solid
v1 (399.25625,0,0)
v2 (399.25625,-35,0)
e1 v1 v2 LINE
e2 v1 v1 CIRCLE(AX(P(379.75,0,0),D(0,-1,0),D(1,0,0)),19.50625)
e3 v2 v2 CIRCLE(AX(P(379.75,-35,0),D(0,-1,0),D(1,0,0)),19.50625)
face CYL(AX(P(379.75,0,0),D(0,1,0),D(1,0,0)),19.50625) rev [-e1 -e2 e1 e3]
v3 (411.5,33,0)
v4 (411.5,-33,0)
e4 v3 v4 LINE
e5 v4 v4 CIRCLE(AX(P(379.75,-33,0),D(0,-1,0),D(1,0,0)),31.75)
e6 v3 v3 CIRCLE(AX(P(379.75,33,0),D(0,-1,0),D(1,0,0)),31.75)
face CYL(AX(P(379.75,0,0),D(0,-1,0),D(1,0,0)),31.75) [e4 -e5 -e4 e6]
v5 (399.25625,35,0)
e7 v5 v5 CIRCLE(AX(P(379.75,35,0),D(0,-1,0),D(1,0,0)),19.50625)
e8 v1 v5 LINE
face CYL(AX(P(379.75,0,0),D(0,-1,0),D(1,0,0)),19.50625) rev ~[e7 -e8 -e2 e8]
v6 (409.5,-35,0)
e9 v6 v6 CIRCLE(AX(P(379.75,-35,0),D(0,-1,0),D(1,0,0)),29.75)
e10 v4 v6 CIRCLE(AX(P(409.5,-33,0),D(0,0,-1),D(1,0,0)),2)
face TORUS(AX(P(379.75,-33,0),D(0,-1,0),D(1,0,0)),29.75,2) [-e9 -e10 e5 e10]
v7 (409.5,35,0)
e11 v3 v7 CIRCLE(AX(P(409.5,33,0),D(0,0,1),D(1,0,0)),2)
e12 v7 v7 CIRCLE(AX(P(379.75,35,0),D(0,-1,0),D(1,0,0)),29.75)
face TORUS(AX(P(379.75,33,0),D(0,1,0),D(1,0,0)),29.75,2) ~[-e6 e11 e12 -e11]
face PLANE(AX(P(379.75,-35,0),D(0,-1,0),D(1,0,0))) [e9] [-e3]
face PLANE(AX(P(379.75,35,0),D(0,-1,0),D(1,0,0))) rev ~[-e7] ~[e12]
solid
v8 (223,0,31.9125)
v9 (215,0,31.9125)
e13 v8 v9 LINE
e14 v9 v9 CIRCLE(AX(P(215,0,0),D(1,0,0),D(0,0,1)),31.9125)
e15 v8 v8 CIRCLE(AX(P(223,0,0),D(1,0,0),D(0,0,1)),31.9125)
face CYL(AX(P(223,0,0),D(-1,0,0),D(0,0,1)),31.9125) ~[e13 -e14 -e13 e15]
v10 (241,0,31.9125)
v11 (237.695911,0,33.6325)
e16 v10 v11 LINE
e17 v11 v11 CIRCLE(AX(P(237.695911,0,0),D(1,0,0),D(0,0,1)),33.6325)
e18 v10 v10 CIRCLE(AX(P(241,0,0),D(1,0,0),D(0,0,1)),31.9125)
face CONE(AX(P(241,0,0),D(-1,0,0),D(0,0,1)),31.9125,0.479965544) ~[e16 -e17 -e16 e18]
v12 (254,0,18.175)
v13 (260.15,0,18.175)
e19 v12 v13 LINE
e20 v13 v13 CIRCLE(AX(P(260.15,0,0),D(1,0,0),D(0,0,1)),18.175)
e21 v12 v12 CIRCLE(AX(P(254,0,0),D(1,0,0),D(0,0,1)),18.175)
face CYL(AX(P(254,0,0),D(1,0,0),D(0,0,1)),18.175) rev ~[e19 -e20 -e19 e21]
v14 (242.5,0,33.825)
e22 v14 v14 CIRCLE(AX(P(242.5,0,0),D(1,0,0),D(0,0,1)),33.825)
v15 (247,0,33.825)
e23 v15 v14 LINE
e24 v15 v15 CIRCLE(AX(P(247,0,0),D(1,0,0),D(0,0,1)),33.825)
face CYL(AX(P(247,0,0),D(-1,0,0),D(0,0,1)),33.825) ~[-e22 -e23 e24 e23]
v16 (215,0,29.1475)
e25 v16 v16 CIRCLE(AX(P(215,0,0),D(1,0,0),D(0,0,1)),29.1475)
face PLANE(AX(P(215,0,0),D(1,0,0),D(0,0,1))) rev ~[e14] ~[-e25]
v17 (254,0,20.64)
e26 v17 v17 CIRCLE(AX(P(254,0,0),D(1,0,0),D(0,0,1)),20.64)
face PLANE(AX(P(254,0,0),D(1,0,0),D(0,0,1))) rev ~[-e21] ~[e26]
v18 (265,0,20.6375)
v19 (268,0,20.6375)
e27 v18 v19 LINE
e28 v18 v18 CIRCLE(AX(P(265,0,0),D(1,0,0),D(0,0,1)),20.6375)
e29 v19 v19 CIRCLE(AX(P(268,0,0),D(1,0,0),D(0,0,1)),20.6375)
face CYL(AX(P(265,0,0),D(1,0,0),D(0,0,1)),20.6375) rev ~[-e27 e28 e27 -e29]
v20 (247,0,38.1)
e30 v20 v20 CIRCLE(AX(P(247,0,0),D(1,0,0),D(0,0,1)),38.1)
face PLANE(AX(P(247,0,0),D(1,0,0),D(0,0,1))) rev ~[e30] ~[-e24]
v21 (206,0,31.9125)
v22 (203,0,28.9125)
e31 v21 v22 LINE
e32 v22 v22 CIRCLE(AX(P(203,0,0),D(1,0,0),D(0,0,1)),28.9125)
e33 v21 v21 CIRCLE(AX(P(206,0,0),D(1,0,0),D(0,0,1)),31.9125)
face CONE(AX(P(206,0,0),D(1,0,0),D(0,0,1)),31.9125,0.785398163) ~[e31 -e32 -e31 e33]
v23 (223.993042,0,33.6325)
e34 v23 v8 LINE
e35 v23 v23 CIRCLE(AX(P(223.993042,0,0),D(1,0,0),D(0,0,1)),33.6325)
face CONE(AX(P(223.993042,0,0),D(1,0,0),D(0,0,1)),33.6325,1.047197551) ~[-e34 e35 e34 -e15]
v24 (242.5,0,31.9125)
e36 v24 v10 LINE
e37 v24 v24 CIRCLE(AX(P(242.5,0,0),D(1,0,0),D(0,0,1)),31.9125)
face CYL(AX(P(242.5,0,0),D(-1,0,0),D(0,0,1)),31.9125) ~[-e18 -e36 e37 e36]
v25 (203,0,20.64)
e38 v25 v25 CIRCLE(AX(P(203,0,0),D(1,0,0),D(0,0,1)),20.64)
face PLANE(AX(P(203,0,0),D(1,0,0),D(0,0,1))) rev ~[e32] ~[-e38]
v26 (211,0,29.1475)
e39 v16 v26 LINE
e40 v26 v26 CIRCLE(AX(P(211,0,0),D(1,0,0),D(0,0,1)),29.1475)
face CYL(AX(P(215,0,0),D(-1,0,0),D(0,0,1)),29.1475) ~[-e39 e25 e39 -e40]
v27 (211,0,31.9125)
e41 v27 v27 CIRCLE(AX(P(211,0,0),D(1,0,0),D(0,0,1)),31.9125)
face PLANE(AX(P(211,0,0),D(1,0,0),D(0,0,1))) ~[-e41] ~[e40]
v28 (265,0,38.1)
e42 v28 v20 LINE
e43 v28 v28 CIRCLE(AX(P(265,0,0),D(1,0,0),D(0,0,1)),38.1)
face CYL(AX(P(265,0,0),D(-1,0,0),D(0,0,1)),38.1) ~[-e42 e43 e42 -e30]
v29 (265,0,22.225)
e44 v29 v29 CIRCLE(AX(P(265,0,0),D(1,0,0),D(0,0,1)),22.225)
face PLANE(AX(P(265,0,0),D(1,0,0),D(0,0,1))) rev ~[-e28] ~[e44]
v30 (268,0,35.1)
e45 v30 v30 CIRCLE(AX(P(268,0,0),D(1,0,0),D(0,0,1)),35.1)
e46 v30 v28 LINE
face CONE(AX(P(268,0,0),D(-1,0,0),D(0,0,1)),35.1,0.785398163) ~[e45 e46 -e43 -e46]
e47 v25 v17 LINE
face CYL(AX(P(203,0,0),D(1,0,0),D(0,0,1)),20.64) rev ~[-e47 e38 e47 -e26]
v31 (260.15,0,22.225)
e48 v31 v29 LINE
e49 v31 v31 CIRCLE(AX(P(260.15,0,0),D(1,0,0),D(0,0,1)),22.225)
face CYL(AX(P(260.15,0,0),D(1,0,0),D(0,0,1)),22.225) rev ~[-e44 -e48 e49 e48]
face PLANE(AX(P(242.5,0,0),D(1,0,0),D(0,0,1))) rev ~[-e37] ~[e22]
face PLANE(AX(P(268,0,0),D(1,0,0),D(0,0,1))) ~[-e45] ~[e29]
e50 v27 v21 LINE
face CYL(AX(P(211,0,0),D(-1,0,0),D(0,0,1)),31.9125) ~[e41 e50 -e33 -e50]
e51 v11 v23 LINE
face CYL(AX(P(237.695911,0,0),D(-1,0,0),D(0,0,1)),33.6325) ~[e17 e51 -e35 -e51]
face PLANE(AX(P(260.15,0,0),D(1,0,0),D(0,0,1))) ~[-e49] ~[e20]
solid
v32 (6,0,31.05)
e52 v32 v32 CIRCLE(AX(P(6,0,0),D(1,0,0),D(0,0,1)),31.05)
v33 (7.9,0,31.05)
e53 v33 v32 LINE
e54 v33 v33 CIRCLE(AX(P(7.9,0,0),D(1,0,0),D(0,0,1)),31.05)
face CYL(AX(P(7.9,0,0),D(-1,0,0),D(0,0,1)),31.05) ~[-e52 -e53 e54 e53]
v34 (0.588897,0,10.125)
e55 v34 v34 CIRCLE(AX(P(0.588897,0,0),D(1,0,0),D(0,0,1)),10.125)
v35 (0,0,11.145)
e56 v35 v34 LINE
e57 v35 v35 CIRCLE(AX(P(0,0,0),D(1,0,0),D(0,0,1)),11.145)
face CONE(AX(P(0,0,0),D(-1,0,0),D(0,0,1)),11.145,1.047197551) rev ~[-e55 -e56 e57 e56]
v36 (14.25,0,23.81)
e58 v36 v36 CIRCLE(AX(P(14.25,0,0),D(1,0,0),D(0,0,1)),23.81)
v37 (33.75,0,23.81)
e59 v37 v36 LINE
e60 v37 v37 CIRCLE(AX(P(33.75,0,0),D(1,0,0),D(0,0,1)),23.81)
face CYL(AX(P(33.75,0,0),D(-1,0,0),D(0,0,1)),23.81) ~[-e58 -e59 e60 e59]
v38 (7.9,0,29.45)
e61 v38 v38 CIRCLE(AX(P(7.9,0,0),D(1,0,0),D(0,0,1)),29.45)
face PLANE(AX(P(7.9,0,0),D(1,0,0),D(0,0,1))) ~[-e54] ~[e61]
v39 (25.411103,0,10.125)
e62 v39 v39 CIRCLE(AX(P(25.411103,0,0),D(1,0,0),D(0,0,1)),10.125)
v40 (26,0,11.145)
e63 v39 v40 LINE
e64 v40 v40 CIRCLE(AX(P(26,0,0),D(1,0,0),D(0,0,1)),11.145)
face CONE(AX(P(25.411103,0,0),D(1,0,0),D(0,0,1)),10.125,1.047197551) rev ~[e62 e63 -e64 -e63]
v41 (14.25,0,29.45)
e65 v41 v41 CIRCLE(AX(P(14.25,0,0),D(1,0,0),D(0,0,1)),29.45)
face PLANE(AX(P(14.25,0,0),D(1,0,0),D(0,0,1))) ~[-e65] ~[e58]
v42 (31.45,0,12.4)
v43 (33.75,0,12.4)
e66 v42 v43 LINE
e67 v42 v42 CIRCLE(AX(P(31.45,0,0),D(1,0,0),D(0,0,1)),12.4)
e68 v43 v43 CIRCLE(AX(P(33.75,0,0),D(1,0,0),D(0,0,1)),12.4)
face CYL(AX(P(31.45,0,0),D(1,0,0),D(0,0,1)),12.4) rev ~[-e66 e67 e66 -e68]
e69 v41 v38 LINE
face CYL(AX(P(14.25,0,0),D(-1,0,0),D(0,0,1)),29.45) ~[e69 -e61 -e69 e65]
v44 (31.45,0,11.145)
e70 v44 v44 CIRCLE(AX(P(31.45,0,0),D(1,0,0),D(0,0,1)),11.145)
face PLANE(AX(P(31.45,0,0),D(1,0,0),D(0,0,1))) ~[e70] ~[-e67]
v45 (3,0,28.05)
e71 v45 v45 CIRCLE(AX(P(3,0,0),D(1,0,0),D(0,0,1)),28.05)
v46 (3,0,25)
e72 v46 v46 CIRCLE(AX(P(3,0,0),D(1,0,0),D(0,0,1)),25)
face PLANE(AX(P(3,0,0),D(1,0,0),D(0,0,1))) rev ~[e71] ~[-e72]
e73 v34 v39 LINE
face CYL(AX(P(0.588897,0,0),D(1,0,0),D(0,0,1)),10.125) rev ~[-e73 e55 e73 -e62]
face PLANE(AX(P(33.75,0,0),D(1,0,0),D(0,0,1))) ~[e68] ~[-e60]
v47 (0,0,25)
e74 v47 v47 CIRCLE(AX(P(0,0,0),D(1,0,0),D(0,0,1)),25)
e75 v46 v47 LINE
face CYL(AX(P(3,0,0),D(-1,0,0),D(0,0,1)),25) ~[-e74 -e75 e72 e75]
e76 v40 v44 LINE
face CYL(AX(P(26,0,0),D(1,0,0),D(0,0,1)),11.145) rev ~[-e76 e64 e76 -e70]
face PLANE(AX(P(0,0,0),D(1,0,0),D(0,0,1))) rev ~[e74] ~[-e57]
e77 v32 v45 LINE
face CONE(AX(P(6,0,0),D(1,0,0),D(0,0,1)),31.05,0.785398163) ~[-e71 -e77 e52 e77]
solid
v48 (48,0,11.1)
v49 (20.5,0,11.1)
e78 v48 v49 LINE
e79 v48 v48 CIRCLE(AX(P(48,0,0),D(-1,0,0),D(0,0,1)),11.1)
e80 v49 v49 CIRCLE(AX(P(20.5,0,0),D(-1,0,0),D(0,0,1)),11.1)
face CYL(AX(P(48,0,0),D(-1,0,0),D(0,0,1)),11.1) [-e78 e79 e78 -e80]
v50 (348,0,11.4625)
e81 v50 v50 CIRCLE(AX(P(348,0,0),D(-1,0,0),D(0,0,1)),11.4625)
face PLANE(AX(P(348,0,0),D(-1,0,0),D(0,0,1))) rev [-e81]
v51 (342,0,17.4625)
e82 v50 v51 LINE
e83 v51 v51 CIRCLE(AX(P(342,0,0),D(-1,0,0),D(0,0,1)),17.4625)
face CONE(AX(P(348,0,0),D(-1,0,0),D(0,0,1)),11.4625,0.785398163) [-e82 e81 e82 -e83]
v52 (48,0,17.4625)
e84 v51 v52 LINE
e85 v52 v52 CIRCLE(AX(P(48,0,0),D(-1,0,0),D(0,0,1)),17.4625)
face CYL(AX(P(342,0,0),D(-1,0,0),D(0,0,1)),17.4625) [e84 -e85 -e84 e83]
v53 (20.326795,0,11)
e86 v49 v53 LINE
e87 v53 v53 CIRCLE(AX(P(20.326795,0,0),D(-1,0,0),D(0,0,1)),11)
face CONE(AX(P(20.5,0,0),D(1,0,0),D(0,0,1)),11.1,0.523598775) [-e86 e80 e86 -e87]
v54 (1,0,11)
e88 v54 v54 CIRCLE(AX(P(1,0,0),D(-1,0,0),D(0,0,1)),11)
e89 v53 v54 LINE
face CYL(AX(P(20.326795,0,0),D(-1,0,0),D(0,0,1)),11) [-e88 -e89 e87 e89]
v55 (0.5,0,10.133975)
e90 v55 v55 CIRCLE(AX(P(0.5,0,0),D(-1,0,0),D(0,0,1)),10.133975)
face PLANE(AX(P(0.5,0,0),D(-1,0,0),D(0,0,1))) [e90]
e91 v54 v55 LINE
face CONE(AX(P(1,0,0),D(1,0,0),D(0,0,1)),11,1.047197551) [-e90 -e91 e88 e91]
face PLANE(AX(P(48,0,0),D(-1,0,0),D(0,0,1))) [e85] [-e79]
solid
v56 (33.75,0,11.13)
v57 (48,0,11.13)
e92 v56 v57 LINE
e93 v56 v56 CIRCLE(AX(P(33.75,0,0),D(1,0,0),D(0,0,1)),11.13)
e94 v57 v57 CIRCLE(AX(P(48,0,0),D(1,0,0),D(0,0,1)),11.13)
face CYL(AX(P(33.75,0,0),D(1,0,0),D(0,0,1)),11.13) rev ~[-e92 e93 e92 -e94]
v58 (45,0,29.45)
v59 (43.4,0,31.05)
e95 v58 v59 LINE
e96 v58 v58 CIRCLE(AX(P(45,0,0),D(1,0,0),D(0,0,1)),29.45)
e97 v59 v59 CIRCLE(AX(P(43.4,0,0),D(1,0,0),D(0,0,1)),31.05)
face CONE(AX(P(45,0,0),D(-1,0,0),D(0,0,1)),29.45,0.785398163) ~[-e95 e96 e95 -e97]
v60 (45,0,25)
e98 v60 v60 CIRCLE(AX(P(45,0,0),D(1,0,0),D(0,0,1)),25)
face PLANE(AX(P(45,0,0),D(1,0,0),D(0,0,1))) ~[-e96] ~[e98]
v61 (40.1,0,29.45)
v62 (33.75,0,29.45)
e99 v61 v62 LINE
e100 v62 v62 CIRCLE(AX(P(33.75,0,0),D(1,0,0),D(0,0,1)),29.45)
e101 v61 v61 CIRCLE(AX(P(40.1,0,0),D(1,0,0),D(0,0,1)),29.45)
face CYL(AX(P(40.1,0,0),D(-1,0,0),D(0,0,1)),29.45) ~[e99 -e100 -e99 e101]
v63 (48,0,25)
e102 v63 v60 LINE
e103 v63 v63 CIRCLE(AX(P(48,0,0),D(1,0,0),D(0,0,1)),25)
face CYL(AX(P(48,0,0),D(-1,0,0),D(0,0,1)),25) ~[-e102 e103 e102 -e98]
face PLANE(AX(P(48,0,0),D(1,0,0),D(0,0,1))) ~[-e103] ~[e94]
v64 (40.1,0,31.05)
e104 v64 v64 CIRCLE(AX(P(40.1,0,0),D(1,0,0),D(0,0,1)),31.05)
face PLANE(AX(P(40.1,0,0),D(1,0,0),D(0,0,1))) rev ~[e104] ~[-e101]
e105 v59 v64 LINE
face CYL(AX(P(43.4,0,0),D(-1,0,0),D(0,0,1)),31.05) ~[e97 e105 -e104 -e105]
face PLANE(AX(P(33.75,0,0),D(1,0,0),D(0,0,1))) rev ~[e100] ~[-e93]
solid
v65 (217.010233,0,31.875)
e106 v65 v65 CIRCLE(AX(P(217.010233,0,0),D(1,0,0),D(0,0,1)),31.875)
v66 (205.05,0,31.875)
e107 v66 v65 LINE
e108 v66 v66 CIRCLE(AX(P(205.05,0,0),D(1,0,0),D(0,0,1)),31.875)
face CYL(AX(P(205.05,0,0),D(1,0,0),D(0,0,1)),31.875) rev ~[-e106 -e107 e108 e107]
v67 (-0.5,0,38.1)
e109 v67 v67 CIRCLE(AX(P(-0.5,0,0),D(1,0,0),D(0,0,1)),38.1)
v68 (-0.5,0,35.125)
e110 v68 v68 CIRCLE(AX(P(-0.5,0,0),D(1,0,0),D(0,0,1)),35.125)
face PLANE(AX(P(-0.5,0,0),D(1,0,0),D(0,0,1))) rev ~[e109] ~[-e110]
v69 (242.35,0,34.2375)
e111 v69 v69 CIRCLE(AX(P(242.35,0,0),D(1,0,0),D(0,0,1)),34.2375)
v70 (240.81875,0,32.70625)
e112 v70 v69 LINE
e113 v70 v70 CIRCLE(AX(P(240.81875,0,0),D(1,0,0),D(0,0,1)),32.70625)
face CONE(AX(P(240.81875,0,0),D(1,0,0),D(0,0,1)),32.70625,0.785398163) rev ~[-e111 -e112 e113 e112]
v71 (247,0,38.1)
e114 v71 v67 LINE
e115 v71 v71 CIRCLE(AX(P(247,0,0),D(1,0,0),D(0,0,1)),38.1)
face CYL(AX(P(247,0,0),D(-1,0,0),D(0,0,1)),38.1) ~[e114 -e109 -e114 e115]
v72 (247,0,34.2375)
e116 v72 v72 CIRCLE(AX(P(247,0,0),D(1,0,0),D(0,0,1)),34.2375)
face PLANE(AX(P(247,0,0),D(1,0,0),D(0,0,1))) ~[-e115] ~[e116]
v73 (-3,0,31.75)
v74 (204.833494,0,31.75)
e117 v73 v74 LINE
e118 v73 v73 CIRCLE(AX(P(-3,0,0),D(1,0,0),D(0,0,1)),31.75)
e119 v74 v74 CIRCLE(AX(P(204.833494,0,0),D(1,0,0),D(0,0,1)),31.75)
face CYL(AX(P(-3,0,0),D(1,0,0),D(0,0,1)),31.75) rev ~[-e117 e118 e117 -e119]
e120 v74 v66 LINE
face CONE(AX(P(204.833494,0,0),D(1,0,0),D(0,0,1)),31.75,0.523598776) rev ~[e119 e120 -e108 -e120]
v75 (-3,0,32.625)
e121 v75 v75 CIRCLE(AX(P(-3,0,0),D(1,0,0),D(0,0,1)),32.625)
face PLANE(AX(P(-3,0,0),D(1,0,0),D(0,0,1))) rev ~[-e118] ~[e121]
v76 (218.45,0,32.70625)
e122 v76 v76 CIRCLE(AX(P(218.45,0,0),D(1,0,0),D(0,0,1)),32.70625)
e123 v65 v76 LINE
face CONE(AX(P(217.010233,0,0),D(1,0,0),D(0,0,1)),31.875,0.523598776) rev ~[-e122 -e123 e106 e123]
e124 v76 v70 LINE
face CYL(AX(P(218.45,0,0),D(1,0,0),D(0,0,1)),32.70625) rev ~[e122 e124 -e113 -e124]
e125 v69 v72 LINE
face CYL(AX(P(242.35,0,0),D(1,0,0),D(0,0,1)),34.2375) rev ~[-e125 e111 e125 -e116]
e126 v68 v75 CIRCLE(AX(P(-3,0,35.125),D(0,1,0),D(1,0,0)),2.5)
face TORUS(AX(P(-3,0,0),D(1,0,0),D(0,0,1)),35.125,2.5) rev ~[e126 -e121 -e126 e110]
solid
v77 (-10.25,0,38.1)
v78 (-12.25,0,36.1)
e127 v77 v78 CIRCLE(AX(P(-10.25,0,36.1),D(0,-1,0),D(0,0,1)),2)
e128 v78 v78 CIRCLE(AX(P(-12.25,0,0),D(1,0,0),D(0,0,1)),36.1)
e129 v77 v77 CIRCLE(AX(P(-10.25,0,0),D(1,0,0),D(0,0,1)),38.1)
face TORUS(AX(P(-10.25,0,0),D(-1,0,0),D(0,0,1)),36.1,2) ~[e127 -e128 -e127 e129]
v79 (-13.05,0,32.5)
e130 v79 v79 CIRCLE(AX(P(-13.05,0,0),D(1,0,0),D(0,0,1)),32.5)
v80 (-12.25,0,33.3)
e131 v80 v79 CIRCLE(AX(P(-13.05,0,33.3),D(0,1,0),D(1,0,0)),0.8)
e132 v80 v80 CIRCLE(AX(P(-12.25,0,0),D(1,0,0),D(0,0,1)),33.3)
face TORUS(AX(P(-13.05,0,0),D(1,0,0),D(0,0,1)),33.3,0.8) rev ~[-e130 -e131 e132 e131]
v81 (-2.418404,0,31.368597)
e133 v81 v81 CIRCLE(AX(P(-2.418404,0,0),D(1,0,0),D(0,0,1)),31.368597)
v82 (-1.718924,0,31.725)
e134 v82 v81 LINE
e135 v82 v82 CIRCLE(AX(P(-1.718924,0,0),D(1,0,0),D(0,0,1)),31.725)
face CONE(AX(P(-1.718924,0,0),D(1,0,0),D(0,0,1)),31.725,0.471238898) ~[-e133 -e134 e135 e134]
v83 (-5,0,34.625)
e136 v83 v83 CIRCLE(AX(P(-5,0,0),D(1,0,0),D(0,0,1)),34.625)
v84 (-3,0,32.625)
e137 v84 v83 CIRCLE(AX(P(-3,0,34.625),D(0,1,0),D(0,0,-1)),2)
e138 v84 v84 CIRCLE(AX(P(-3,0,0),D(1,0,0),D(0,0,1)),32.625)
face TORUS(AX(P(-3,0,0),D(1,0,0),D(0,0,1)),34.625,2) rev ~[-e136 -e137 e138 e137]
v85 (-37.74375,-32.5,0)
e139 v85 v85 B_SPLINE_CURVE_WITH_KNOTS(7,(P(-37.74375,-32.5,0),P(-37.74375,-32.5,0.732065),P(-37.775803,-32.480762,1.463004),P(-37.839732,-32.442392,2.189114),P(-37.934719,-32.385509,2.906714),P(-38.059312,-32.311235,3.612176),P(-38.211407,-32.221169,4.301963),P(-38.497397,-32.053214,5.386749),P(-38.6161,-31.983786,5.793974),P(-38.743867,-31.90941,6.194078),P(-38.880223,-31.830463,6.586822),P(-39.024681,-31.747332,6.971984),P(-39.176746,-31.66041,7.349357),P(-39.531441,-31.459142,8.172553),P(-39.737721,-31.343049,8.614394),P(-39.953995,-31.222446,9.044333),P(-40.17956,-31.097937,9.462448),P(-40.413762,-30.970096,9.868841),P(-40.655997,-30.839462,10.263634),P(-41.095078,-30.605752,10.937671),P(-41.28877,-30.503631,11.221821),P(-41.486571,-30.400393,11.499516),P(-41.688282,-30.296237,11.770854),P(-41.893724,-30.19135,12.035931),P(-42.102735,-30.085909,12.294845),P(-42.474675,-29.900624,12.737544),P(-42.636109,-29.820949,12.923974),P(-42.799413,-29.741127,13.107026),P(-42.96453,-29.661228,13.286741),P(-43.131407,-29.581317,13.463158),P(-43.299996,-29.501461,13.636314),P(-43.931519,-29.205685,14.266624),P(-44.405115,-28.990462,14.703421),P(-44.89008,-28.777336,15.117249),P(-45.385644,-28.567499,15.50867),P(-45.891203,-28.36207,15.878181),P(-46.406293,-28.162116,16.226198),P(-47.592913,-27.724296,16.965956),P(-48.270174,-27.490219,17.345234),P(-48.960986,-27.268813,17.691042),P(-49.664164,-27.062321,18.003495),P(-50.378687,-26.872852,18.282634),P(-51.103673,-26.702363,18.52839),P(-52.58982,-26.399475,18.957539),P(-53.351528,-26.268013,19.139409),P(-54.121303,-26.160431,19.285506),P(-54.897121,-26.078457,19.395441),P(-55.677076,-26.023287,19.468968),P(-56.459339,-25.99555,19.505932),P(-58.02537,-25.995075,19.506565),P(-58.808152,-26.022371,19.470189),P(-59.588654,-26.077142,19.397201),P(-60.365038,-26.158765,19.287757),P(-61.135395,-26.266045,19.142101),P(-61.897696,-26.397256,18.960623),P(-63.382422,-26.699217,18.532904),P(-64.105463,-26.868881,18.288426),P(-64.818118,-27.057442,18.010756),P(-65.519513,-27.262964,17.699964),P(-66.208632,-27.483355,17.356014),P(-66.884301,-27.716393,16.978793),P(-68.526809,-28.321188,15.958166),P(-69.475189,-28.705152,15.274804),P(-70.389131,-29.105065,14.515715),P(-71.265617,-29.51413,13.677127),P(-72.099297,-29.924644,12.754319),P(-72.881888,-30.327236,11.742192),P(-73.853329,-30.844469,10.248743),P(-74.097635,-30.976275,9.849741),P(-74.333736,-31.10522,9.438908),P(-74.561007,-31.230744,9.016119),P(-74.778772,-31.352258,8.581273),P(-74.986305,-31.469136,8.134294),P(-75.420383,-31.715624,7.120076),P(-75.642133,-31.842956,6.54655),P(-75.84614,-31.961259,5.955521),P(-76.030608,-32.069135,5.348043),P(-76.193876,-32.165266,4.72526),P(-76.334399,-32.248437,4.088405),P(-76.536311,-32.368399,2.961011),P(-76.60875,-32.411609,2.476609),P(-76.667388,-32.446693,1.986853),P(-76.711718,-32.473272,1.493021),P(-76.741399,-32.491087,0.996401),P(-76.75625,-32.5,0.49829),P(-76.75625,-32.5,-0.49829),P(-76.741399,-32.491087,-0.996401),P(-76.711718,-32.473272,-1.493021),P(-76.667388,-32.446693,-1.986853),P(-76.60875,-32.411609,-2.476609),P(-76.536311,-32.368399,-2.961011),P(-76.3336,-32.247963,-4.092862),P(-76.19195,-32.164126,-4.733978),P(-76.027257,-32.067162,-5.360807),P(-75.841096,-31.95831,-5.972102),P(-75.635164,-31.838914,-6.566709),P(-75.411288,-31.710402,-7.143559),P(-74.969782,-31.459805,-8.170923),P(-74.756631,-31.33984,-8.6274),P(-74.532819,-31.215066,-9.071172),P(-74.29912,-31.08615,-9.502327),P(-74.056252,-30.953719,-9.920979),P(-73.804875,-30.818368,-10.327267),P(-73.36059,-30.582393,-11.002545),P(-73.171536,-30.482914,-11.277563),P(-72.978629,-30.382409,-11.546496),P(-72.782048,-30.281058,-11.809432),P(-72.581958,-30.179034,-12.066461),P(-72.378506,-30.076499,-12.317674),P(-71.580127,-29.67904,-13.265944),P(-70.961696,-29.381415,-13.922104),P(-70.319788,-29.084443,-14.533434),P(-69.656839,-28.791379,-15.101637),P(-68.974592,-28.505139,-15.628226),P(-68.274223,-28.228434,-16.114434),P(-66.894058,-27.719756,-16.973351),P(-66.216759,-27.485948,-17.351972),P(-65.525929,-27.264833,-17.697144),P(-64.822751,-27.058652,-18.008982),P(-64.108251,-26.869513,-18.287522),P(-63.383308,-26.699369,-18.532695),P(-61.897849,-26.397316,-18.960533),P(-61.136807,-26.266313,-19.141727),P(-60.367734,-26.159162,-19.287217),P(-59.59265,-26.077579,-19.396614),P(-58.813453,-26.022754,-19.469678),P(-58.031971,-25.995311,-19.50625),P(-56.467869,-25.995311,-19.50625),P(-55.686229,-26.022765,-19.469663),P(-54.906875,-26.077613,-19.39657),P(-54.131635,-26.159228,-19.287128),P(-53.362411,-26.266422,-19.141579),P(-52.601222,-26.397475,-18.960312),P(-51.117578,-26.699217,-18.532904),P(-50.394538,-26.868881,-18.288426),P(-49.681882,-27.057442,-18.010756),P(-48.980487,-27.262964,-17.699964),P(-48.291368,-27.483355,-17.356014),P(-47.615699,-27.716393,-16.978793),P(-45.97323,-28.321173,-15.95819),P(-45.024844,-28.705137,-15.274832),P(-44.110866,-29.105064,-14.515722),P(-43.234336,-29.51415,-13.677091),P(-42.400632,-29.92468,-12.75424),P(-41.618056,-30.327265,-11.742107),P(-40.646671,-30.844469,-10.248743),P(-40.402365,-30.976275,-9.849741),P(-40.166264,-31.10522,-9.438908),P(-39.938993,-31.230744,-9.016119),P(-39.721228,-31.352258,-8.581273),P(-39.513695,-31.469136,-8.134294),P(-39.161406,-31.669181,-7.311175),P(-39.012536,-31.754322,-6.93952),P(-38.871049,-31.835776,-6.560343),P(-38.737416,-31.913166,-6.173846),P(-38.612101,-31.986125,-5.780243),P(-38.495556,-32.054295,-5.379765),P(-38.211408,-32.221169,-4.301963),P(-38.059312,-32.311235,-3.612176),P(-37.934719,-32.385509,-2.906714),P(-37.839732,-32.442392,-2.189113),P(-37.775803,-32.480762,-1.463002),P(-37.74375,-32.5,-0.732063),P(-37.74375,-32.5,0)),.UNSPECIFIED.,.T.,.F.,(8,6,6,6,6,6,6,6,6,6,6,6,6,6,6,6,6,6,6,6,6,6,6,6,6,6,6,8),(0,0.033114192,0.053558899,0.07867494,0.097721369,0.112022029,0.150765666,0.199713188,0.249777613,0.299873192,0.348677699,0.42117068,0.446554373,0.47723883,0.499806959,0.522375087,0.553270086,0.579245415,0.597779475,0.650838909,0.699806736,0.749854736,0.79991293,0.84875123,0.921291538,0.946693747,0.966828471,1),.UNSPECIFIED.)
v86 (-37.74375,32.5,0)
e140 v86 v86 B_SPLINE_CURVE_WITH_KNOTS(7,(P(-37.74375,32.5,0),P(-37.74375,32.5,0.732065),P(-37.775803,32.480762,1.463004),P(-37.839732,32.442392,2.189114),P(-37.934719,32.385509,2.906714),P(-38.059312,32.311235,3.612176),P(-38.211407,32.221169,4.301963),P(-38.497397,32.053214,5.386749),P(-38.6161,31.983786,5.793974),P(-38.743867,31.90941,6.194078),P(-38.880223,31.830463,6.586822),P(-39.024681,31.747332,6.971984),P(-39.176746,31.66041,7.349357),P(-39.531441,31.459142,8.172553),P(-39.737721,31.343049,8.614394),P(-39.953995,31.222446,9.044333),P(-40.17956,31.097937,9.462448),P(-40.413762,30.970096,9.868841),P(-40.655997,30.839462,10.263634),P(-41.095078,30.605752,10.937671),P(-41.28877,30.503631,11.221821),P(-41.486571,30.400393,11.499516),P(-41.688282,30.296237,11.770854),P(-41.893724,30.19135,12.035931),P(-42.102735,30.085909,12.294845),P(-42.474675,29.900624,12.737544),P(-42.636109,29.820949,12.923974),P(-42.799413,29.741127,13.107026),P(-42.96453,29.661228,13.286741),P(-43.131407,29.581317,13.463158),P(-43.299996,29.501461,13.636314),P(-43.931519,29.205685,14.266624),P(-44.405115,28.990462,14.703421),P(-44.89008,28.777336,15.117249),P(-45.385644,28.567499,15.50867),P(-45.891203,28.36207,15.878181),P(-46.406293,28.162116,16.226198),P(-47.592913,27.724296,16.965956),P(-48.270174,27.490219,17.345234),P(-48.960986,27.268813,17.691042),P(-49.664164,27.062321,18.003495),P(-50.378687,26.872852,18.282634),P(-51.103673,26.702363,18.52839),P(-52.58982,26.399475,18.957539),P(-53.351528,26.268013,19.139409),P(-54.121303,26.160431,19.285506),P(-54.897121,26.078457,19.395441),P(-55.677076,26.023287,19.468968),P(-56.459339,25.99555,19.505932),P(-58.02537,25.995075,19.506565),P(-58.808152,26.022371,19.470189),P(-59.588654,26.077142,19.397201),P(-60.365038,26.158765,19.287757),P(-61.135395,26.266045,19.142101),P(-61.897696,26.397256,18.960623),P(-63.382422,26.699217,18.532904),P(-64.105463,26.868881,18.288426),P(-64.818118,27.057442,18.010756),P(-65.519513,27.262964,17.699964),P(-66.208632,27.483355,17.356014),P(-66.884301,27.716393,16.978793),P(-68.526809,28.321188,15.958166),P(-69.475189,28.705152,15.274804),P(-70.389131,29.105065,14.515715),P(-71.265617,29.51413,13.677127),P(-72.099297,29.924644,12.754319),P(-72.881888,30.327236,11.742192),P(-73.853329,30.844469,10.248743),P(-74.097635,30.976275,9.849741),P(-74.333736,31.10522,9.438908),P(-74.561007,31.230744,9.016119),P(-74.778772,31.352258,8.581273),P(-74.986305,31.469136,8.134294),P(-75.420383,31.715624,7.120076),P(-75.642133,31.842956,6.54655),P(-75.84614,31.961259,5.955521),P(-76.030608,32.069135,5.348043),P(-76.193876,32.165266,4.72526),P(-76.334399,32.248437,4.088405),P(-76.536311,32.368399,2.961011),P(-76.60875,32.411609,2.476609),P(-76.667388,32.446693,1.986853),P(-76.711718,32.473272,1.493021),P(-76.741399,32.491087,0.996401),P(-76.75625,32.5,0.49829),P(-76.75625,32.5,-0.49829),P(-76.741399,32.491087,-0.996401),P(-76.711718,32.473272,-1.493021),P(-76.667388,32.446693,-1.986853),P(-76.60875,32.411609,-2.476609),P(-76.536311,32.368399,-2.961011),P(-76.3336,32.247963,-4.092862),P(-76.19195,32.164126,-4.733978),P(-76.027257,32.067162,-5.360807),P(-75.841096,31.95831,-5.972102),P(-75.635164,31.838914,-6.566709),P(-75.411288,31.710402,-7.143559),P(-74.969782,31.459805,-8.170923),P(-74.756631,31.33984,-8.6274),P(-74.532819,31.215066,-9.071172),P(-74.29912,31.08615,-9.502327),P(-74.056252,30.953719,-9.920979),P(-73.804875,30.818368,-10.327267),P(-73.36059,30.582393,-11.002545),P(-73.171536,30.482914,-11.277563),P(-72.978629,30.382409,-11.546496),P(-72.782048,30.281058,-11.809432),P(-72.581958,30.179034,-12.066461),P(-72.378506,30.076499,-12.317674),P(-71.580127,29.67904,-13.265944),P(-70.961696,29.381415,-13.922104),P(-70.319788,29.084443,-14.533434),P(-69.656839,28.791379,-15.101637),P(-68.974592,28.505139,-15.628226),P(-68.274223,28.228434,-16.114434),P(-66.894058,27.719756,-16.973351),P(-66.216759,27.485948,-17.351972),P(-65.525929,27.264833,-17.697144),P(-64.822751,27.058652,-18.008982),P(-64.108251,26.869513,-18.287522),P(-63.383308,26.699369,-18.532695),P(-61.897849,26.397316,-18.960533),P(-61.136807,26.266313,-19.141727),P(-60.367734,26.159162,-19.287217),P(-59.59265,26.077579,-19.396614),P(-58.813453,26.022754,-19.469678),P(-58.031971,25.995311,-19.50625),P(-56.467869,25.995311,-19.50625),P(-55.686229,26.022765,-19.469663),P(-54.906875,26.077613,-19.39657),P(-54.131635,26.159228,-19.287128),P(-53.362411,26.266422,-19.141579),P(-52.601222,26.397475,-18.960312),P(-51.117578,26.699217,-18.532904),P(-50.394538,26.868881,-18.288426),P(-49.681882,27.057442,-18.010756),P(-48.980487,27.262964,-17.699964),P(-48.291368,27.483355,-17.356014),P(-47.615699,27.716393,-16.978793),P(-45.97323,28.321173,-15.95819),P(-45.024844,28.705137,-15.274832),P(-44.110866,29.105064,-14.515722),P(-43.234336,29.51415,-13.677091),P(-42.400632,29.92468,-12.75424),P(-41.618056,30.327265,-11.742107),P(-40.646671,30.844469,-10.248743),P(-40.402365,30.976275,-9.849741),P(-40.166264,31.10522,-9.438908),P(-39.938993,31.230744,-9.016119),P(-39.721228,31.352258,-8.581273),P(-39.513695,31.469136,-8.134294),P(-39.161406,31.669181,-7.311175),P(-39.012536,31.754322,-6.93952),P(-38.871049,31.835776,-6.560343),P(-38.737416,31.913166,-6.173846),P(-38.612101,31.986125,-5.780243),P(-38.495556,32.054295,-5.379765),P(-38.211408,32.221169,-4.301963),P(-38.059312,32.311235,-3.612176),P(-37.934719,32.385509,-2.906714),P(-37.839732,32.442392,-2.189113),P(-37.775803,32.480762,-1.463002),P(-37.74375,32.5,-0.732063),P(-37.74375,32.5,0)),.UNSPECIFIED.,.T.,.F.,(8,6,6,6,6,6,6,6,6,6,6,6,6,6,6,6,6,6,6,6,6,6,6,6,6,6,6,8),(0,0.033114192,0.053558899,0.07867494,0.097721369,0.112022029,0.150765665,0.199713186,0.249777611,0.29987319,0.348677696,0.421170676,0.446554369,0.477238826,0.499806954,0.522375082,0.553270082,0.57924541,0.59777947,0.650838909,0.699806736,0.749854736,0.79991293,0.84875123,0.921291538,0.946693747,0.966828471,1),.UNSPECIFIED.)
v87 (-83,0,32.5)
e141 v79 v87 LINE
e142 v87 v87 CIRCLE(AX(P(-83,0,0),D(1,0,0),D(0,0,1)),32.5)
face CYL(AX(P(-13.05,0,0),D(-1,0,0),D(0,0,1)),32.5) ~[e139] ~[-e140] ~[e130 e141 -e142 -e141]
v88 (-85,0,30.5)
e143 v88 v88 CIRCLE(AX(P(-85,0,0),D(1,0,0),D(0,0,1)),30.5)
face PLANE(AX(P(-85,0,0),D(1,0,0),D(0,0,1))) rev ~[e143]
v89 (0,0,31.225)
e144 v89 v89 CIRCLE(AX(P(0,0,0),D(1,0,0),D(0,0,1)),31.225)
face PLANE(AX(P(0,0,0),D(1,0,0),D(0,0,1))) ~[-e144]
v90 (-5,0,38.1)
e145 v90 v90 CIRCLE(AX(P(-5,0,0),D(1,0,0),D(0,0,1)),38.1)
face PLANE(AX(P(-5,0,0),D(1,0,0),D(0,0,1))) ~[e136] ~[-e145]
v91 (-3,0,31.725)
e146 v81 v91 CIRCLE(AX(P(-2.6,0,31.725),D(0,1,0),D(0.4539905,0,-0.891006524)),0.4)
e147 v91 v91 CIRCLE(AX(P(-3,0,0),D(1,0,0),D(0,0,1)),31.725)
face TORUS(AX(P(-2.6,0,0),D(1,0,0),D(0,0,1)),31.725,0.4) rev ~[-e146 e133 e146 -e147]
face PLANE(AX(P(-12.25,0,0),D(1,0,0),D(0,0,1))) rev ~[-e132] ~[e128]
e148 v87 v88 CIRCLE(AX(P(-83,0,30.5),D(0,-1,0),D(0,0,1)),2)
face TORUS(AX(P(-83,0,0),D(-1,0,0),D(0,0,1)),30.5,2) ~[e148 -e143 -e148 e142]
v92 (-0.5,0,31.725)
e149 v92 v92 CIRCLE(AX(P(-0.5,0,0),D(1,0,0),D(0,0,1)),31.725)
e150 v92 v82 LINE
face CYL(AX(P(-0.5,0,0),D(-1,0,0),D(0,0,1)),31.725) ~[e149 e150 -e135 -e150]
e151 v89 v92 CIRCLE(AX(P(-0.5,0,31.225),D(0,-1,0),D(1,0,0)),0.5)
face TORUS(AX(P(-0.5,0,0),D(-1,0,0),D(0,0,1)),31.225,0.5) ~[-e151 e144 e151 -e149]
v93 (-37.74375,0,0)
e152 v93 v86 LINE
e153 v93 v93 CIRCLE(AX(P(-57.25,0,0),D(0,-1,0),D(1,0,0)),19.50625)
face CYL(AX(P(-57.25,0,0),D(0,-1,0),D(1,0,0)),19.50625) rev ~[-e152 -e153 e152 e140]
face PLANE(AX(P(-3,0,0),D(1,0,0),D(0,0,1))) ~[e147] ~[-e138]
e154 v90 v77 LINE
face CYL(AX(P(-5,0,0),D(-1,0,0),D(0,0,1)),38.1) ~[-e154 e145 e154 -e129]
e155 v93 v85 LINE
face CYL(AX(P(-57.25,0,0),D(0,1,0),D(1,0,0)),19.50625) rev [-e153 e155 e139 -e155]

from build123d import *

# Parameters (mm, degrees)
F2_R           = 19.50625
F3_DEPTH       = 38.1010001
F3_DEPTH_BACK  = 38.1010001
F10_R          = 31.75
F10_R_2        = 19.50625
F11_DEPTH      = 35
F11_DEPTH_BACK = 35
F12_R          = 2


with BuildPart() as f1:
    # F0 (on Front) → F1 (revolve)
    with BuildSketch(Plane.XZ):
        with BuildLine():
            Line((-85, 0), (0, 0))
            Line((0, 0), (0, 31.225))
            ThreePointArc((0, 31.225), (-0.1464466094, 31.5785533906), (-0.5, 31.725))
            Line((-0.5, 31.725), (-1.7189242942, 31.725))
            Line((-1.7189242942, 31.725), (-2.4184038001, 31.3685973903))
            ThreePointArc((-2.4184038001, 31.3685973903), (-2.8089994259, 31.3839439343), (-3, 31.725))
            Line((-3, 31.725), (-3, 32.625))
            ThreePointArc((-3, 32.625), (-4.4142135624, 33.2107864376), (-5, 34.625))
            Line((-5, 34.625), (-5, 38.1))
            Line((-5, 38.1), (-10.25, 38.1))
            ThreePointArc((-10.25, 38.1), (-11.6642135624, 37.5142135624), (-12.25, 36.1))
            Line((-12.25, 36.1), (-12.25, 33.3))
            ThreePointArc((-12.25, 33.3), (-12.4843145751, 32.7343145751), (-13.05, 32.5))
            Line((-13.05, 32.5), (-83, 32.5))
            ThreePointArc((-83, 32.5), (-84.4142135624, 31.9142135624), (-85, 30.5))
            Line((-85, 30.5), (-85, 0))
        make_face()
    revolve(axis=Axis((-42.5, 0, 0), (1, 0, 0)))

    # F2 (on Front) → F3 (cut, two sides)
    with BuildSketch(Plane.XZ) as f3_sk:
        with Locations((-57.25, 0)):
            Circle(F2_R)
    extrude(amount=-F3_DEPTH, mode=Mode.SUBTRACT)
    extrude(f3_sk.sketch, amount=F3_DEPTH_BACK, mode=Mode.SUBTRACT)


with BuildPart() as f5:
    # F4 (on Front) → F5 (revolve)
    with BuildSketch(Plane.XZ):
        Polygon((3, 25), (0, 25), (0, 11.145), (0.5888972746, 10.125), (25.4111027254, 10.125), (26, 11.145), (31.45, 11.145), (31.45, 12.4), (33.75, 12.4), (33.75, 23.81), (14.25, 23.81), (14.25, 29.45), (7.9, 29.45), (7.9, 31.05), (6, 31.05), (3, 28.05), align=None)
    revolve(axis=Axis((27.4239368737, 0, 0), (1, 0, 0)))


with BuildPart() as f7:
    # F6 (on Front) → F7 (revolve)
    with BuildSketch(Plane.XZ):
        Polygon((33.75, 29.45), (33.75, 11.13), (48, 11.13), (48, 25), (45, 25), (45, 29.45), (43.4, 31.05), (40.1, 31.05), (40.1, 29.45), align=None)
    revolve(axis=Axis((52.8446149826, 0, 0), (1, 0, 0)))


with BuildPart() as f9:
    # F8 (on Front) → F9 (revolve)
    with BuildSketch(Plane.XZ):
        Polygon((0.5, 10.1339745962), (0.5, 0), (348, 0), (348, 11.4625), (342, 17.4625), (48, 17.4625), (48, 11.1), (20.5, 11.1), (20.3267949192, 11), (1, 11), align=None)
    revolve(axis=Axis((174.25, 0, 0), (-1, 0, 0)))


with BuildPart() as f11:
    # F10 (on Front) → F11 (new body, two sides)
    with BuildSketch(Plane.XZ) as f11_sk:
        with Locations((379.75, 0)):
            Circle(F10_R)
        with Locations((379.75, 0)):
            Circle(F10_R_2, mode=Mode.SUBTRACT)
    extrude(amount=F11_DEPTH)
    extrude(f11_sk.sketch, amount=-F11_DEPTH_BACK)

    # F12
    f12_edges = [f11.edges().sort_by_distance(p)[0] for p in [
        (348, 35, 0),
        (348, -35, 0),
    ]]
    fillet(f12_edges, radius=F12_R)


with BuildPart() as f14:
    # F13 (on Front) → F14 (revolve)
    with BuildSketch(Plane.XZ):
        with BuildLine():
            Line((-3, 32.625), (-3, 31.75))
            Line((-3, 31.75), (204.8334936491, 31.75))
            Line((204.8334936491, 31.75), (205.05, 31.875))
            Line((205.05, 31.875), (217.0102327662, 31.875))
            Line((217.0102327662, 31.875), (218.45, 32.70625))
            Line((218.45, 32.70625), (240.81875, 32.70625))
            Line((240.81875, 32.70625), (242.35, 34.2375))
            Line((242.35, 34.2375), (247, 34.2375))
            Line((247, 34.2375), (247, 38.1))
            Line((247, 38.1), (-0.5, 38.1))
            Line((-0.5, 38.1), (-0.5, 35.125))
            ThreePointArc((-0.5, 35.125), (-1.232233047, 33.357233047), (-3, 32.625))
        make_face()
    revolve(axis=Axis((40.4001772404, 0, 0), (1, 0, 0)))


with BuildPart() as f16:
    # F15 (on Front) → F16 (revolve)
    with BuildSketch(Plane.XZ):
        Polygon((265, 38.1), (247, 38.1), (247, 33.825), (242.5, 33.825), (242.5, 31.9125), (241, 31.9125), (237.6959107416, 33.6325), (223.993042463, 33.6325), (223, 31.9125), (215, 31.9125), (215, 29.1475), (211, 29.1475), (211, 31.9125), (206, 31.9125), (203, 28.9125), (203, 20.64), (254, 20.64), (254, 18.175), (260.15, 18.175), (260.15, 22.225), (265, 22.225), (265, 20.6375), (268, 20.6375), (268, 35.1), align=None)
    revolve(axis=Axis((138.0018591881, 0, 0), (1, 0, 0)))


solid = Compound([f1.part, f5.part, f7.part, f9.part, f11.part, f14.part, f16.part])
